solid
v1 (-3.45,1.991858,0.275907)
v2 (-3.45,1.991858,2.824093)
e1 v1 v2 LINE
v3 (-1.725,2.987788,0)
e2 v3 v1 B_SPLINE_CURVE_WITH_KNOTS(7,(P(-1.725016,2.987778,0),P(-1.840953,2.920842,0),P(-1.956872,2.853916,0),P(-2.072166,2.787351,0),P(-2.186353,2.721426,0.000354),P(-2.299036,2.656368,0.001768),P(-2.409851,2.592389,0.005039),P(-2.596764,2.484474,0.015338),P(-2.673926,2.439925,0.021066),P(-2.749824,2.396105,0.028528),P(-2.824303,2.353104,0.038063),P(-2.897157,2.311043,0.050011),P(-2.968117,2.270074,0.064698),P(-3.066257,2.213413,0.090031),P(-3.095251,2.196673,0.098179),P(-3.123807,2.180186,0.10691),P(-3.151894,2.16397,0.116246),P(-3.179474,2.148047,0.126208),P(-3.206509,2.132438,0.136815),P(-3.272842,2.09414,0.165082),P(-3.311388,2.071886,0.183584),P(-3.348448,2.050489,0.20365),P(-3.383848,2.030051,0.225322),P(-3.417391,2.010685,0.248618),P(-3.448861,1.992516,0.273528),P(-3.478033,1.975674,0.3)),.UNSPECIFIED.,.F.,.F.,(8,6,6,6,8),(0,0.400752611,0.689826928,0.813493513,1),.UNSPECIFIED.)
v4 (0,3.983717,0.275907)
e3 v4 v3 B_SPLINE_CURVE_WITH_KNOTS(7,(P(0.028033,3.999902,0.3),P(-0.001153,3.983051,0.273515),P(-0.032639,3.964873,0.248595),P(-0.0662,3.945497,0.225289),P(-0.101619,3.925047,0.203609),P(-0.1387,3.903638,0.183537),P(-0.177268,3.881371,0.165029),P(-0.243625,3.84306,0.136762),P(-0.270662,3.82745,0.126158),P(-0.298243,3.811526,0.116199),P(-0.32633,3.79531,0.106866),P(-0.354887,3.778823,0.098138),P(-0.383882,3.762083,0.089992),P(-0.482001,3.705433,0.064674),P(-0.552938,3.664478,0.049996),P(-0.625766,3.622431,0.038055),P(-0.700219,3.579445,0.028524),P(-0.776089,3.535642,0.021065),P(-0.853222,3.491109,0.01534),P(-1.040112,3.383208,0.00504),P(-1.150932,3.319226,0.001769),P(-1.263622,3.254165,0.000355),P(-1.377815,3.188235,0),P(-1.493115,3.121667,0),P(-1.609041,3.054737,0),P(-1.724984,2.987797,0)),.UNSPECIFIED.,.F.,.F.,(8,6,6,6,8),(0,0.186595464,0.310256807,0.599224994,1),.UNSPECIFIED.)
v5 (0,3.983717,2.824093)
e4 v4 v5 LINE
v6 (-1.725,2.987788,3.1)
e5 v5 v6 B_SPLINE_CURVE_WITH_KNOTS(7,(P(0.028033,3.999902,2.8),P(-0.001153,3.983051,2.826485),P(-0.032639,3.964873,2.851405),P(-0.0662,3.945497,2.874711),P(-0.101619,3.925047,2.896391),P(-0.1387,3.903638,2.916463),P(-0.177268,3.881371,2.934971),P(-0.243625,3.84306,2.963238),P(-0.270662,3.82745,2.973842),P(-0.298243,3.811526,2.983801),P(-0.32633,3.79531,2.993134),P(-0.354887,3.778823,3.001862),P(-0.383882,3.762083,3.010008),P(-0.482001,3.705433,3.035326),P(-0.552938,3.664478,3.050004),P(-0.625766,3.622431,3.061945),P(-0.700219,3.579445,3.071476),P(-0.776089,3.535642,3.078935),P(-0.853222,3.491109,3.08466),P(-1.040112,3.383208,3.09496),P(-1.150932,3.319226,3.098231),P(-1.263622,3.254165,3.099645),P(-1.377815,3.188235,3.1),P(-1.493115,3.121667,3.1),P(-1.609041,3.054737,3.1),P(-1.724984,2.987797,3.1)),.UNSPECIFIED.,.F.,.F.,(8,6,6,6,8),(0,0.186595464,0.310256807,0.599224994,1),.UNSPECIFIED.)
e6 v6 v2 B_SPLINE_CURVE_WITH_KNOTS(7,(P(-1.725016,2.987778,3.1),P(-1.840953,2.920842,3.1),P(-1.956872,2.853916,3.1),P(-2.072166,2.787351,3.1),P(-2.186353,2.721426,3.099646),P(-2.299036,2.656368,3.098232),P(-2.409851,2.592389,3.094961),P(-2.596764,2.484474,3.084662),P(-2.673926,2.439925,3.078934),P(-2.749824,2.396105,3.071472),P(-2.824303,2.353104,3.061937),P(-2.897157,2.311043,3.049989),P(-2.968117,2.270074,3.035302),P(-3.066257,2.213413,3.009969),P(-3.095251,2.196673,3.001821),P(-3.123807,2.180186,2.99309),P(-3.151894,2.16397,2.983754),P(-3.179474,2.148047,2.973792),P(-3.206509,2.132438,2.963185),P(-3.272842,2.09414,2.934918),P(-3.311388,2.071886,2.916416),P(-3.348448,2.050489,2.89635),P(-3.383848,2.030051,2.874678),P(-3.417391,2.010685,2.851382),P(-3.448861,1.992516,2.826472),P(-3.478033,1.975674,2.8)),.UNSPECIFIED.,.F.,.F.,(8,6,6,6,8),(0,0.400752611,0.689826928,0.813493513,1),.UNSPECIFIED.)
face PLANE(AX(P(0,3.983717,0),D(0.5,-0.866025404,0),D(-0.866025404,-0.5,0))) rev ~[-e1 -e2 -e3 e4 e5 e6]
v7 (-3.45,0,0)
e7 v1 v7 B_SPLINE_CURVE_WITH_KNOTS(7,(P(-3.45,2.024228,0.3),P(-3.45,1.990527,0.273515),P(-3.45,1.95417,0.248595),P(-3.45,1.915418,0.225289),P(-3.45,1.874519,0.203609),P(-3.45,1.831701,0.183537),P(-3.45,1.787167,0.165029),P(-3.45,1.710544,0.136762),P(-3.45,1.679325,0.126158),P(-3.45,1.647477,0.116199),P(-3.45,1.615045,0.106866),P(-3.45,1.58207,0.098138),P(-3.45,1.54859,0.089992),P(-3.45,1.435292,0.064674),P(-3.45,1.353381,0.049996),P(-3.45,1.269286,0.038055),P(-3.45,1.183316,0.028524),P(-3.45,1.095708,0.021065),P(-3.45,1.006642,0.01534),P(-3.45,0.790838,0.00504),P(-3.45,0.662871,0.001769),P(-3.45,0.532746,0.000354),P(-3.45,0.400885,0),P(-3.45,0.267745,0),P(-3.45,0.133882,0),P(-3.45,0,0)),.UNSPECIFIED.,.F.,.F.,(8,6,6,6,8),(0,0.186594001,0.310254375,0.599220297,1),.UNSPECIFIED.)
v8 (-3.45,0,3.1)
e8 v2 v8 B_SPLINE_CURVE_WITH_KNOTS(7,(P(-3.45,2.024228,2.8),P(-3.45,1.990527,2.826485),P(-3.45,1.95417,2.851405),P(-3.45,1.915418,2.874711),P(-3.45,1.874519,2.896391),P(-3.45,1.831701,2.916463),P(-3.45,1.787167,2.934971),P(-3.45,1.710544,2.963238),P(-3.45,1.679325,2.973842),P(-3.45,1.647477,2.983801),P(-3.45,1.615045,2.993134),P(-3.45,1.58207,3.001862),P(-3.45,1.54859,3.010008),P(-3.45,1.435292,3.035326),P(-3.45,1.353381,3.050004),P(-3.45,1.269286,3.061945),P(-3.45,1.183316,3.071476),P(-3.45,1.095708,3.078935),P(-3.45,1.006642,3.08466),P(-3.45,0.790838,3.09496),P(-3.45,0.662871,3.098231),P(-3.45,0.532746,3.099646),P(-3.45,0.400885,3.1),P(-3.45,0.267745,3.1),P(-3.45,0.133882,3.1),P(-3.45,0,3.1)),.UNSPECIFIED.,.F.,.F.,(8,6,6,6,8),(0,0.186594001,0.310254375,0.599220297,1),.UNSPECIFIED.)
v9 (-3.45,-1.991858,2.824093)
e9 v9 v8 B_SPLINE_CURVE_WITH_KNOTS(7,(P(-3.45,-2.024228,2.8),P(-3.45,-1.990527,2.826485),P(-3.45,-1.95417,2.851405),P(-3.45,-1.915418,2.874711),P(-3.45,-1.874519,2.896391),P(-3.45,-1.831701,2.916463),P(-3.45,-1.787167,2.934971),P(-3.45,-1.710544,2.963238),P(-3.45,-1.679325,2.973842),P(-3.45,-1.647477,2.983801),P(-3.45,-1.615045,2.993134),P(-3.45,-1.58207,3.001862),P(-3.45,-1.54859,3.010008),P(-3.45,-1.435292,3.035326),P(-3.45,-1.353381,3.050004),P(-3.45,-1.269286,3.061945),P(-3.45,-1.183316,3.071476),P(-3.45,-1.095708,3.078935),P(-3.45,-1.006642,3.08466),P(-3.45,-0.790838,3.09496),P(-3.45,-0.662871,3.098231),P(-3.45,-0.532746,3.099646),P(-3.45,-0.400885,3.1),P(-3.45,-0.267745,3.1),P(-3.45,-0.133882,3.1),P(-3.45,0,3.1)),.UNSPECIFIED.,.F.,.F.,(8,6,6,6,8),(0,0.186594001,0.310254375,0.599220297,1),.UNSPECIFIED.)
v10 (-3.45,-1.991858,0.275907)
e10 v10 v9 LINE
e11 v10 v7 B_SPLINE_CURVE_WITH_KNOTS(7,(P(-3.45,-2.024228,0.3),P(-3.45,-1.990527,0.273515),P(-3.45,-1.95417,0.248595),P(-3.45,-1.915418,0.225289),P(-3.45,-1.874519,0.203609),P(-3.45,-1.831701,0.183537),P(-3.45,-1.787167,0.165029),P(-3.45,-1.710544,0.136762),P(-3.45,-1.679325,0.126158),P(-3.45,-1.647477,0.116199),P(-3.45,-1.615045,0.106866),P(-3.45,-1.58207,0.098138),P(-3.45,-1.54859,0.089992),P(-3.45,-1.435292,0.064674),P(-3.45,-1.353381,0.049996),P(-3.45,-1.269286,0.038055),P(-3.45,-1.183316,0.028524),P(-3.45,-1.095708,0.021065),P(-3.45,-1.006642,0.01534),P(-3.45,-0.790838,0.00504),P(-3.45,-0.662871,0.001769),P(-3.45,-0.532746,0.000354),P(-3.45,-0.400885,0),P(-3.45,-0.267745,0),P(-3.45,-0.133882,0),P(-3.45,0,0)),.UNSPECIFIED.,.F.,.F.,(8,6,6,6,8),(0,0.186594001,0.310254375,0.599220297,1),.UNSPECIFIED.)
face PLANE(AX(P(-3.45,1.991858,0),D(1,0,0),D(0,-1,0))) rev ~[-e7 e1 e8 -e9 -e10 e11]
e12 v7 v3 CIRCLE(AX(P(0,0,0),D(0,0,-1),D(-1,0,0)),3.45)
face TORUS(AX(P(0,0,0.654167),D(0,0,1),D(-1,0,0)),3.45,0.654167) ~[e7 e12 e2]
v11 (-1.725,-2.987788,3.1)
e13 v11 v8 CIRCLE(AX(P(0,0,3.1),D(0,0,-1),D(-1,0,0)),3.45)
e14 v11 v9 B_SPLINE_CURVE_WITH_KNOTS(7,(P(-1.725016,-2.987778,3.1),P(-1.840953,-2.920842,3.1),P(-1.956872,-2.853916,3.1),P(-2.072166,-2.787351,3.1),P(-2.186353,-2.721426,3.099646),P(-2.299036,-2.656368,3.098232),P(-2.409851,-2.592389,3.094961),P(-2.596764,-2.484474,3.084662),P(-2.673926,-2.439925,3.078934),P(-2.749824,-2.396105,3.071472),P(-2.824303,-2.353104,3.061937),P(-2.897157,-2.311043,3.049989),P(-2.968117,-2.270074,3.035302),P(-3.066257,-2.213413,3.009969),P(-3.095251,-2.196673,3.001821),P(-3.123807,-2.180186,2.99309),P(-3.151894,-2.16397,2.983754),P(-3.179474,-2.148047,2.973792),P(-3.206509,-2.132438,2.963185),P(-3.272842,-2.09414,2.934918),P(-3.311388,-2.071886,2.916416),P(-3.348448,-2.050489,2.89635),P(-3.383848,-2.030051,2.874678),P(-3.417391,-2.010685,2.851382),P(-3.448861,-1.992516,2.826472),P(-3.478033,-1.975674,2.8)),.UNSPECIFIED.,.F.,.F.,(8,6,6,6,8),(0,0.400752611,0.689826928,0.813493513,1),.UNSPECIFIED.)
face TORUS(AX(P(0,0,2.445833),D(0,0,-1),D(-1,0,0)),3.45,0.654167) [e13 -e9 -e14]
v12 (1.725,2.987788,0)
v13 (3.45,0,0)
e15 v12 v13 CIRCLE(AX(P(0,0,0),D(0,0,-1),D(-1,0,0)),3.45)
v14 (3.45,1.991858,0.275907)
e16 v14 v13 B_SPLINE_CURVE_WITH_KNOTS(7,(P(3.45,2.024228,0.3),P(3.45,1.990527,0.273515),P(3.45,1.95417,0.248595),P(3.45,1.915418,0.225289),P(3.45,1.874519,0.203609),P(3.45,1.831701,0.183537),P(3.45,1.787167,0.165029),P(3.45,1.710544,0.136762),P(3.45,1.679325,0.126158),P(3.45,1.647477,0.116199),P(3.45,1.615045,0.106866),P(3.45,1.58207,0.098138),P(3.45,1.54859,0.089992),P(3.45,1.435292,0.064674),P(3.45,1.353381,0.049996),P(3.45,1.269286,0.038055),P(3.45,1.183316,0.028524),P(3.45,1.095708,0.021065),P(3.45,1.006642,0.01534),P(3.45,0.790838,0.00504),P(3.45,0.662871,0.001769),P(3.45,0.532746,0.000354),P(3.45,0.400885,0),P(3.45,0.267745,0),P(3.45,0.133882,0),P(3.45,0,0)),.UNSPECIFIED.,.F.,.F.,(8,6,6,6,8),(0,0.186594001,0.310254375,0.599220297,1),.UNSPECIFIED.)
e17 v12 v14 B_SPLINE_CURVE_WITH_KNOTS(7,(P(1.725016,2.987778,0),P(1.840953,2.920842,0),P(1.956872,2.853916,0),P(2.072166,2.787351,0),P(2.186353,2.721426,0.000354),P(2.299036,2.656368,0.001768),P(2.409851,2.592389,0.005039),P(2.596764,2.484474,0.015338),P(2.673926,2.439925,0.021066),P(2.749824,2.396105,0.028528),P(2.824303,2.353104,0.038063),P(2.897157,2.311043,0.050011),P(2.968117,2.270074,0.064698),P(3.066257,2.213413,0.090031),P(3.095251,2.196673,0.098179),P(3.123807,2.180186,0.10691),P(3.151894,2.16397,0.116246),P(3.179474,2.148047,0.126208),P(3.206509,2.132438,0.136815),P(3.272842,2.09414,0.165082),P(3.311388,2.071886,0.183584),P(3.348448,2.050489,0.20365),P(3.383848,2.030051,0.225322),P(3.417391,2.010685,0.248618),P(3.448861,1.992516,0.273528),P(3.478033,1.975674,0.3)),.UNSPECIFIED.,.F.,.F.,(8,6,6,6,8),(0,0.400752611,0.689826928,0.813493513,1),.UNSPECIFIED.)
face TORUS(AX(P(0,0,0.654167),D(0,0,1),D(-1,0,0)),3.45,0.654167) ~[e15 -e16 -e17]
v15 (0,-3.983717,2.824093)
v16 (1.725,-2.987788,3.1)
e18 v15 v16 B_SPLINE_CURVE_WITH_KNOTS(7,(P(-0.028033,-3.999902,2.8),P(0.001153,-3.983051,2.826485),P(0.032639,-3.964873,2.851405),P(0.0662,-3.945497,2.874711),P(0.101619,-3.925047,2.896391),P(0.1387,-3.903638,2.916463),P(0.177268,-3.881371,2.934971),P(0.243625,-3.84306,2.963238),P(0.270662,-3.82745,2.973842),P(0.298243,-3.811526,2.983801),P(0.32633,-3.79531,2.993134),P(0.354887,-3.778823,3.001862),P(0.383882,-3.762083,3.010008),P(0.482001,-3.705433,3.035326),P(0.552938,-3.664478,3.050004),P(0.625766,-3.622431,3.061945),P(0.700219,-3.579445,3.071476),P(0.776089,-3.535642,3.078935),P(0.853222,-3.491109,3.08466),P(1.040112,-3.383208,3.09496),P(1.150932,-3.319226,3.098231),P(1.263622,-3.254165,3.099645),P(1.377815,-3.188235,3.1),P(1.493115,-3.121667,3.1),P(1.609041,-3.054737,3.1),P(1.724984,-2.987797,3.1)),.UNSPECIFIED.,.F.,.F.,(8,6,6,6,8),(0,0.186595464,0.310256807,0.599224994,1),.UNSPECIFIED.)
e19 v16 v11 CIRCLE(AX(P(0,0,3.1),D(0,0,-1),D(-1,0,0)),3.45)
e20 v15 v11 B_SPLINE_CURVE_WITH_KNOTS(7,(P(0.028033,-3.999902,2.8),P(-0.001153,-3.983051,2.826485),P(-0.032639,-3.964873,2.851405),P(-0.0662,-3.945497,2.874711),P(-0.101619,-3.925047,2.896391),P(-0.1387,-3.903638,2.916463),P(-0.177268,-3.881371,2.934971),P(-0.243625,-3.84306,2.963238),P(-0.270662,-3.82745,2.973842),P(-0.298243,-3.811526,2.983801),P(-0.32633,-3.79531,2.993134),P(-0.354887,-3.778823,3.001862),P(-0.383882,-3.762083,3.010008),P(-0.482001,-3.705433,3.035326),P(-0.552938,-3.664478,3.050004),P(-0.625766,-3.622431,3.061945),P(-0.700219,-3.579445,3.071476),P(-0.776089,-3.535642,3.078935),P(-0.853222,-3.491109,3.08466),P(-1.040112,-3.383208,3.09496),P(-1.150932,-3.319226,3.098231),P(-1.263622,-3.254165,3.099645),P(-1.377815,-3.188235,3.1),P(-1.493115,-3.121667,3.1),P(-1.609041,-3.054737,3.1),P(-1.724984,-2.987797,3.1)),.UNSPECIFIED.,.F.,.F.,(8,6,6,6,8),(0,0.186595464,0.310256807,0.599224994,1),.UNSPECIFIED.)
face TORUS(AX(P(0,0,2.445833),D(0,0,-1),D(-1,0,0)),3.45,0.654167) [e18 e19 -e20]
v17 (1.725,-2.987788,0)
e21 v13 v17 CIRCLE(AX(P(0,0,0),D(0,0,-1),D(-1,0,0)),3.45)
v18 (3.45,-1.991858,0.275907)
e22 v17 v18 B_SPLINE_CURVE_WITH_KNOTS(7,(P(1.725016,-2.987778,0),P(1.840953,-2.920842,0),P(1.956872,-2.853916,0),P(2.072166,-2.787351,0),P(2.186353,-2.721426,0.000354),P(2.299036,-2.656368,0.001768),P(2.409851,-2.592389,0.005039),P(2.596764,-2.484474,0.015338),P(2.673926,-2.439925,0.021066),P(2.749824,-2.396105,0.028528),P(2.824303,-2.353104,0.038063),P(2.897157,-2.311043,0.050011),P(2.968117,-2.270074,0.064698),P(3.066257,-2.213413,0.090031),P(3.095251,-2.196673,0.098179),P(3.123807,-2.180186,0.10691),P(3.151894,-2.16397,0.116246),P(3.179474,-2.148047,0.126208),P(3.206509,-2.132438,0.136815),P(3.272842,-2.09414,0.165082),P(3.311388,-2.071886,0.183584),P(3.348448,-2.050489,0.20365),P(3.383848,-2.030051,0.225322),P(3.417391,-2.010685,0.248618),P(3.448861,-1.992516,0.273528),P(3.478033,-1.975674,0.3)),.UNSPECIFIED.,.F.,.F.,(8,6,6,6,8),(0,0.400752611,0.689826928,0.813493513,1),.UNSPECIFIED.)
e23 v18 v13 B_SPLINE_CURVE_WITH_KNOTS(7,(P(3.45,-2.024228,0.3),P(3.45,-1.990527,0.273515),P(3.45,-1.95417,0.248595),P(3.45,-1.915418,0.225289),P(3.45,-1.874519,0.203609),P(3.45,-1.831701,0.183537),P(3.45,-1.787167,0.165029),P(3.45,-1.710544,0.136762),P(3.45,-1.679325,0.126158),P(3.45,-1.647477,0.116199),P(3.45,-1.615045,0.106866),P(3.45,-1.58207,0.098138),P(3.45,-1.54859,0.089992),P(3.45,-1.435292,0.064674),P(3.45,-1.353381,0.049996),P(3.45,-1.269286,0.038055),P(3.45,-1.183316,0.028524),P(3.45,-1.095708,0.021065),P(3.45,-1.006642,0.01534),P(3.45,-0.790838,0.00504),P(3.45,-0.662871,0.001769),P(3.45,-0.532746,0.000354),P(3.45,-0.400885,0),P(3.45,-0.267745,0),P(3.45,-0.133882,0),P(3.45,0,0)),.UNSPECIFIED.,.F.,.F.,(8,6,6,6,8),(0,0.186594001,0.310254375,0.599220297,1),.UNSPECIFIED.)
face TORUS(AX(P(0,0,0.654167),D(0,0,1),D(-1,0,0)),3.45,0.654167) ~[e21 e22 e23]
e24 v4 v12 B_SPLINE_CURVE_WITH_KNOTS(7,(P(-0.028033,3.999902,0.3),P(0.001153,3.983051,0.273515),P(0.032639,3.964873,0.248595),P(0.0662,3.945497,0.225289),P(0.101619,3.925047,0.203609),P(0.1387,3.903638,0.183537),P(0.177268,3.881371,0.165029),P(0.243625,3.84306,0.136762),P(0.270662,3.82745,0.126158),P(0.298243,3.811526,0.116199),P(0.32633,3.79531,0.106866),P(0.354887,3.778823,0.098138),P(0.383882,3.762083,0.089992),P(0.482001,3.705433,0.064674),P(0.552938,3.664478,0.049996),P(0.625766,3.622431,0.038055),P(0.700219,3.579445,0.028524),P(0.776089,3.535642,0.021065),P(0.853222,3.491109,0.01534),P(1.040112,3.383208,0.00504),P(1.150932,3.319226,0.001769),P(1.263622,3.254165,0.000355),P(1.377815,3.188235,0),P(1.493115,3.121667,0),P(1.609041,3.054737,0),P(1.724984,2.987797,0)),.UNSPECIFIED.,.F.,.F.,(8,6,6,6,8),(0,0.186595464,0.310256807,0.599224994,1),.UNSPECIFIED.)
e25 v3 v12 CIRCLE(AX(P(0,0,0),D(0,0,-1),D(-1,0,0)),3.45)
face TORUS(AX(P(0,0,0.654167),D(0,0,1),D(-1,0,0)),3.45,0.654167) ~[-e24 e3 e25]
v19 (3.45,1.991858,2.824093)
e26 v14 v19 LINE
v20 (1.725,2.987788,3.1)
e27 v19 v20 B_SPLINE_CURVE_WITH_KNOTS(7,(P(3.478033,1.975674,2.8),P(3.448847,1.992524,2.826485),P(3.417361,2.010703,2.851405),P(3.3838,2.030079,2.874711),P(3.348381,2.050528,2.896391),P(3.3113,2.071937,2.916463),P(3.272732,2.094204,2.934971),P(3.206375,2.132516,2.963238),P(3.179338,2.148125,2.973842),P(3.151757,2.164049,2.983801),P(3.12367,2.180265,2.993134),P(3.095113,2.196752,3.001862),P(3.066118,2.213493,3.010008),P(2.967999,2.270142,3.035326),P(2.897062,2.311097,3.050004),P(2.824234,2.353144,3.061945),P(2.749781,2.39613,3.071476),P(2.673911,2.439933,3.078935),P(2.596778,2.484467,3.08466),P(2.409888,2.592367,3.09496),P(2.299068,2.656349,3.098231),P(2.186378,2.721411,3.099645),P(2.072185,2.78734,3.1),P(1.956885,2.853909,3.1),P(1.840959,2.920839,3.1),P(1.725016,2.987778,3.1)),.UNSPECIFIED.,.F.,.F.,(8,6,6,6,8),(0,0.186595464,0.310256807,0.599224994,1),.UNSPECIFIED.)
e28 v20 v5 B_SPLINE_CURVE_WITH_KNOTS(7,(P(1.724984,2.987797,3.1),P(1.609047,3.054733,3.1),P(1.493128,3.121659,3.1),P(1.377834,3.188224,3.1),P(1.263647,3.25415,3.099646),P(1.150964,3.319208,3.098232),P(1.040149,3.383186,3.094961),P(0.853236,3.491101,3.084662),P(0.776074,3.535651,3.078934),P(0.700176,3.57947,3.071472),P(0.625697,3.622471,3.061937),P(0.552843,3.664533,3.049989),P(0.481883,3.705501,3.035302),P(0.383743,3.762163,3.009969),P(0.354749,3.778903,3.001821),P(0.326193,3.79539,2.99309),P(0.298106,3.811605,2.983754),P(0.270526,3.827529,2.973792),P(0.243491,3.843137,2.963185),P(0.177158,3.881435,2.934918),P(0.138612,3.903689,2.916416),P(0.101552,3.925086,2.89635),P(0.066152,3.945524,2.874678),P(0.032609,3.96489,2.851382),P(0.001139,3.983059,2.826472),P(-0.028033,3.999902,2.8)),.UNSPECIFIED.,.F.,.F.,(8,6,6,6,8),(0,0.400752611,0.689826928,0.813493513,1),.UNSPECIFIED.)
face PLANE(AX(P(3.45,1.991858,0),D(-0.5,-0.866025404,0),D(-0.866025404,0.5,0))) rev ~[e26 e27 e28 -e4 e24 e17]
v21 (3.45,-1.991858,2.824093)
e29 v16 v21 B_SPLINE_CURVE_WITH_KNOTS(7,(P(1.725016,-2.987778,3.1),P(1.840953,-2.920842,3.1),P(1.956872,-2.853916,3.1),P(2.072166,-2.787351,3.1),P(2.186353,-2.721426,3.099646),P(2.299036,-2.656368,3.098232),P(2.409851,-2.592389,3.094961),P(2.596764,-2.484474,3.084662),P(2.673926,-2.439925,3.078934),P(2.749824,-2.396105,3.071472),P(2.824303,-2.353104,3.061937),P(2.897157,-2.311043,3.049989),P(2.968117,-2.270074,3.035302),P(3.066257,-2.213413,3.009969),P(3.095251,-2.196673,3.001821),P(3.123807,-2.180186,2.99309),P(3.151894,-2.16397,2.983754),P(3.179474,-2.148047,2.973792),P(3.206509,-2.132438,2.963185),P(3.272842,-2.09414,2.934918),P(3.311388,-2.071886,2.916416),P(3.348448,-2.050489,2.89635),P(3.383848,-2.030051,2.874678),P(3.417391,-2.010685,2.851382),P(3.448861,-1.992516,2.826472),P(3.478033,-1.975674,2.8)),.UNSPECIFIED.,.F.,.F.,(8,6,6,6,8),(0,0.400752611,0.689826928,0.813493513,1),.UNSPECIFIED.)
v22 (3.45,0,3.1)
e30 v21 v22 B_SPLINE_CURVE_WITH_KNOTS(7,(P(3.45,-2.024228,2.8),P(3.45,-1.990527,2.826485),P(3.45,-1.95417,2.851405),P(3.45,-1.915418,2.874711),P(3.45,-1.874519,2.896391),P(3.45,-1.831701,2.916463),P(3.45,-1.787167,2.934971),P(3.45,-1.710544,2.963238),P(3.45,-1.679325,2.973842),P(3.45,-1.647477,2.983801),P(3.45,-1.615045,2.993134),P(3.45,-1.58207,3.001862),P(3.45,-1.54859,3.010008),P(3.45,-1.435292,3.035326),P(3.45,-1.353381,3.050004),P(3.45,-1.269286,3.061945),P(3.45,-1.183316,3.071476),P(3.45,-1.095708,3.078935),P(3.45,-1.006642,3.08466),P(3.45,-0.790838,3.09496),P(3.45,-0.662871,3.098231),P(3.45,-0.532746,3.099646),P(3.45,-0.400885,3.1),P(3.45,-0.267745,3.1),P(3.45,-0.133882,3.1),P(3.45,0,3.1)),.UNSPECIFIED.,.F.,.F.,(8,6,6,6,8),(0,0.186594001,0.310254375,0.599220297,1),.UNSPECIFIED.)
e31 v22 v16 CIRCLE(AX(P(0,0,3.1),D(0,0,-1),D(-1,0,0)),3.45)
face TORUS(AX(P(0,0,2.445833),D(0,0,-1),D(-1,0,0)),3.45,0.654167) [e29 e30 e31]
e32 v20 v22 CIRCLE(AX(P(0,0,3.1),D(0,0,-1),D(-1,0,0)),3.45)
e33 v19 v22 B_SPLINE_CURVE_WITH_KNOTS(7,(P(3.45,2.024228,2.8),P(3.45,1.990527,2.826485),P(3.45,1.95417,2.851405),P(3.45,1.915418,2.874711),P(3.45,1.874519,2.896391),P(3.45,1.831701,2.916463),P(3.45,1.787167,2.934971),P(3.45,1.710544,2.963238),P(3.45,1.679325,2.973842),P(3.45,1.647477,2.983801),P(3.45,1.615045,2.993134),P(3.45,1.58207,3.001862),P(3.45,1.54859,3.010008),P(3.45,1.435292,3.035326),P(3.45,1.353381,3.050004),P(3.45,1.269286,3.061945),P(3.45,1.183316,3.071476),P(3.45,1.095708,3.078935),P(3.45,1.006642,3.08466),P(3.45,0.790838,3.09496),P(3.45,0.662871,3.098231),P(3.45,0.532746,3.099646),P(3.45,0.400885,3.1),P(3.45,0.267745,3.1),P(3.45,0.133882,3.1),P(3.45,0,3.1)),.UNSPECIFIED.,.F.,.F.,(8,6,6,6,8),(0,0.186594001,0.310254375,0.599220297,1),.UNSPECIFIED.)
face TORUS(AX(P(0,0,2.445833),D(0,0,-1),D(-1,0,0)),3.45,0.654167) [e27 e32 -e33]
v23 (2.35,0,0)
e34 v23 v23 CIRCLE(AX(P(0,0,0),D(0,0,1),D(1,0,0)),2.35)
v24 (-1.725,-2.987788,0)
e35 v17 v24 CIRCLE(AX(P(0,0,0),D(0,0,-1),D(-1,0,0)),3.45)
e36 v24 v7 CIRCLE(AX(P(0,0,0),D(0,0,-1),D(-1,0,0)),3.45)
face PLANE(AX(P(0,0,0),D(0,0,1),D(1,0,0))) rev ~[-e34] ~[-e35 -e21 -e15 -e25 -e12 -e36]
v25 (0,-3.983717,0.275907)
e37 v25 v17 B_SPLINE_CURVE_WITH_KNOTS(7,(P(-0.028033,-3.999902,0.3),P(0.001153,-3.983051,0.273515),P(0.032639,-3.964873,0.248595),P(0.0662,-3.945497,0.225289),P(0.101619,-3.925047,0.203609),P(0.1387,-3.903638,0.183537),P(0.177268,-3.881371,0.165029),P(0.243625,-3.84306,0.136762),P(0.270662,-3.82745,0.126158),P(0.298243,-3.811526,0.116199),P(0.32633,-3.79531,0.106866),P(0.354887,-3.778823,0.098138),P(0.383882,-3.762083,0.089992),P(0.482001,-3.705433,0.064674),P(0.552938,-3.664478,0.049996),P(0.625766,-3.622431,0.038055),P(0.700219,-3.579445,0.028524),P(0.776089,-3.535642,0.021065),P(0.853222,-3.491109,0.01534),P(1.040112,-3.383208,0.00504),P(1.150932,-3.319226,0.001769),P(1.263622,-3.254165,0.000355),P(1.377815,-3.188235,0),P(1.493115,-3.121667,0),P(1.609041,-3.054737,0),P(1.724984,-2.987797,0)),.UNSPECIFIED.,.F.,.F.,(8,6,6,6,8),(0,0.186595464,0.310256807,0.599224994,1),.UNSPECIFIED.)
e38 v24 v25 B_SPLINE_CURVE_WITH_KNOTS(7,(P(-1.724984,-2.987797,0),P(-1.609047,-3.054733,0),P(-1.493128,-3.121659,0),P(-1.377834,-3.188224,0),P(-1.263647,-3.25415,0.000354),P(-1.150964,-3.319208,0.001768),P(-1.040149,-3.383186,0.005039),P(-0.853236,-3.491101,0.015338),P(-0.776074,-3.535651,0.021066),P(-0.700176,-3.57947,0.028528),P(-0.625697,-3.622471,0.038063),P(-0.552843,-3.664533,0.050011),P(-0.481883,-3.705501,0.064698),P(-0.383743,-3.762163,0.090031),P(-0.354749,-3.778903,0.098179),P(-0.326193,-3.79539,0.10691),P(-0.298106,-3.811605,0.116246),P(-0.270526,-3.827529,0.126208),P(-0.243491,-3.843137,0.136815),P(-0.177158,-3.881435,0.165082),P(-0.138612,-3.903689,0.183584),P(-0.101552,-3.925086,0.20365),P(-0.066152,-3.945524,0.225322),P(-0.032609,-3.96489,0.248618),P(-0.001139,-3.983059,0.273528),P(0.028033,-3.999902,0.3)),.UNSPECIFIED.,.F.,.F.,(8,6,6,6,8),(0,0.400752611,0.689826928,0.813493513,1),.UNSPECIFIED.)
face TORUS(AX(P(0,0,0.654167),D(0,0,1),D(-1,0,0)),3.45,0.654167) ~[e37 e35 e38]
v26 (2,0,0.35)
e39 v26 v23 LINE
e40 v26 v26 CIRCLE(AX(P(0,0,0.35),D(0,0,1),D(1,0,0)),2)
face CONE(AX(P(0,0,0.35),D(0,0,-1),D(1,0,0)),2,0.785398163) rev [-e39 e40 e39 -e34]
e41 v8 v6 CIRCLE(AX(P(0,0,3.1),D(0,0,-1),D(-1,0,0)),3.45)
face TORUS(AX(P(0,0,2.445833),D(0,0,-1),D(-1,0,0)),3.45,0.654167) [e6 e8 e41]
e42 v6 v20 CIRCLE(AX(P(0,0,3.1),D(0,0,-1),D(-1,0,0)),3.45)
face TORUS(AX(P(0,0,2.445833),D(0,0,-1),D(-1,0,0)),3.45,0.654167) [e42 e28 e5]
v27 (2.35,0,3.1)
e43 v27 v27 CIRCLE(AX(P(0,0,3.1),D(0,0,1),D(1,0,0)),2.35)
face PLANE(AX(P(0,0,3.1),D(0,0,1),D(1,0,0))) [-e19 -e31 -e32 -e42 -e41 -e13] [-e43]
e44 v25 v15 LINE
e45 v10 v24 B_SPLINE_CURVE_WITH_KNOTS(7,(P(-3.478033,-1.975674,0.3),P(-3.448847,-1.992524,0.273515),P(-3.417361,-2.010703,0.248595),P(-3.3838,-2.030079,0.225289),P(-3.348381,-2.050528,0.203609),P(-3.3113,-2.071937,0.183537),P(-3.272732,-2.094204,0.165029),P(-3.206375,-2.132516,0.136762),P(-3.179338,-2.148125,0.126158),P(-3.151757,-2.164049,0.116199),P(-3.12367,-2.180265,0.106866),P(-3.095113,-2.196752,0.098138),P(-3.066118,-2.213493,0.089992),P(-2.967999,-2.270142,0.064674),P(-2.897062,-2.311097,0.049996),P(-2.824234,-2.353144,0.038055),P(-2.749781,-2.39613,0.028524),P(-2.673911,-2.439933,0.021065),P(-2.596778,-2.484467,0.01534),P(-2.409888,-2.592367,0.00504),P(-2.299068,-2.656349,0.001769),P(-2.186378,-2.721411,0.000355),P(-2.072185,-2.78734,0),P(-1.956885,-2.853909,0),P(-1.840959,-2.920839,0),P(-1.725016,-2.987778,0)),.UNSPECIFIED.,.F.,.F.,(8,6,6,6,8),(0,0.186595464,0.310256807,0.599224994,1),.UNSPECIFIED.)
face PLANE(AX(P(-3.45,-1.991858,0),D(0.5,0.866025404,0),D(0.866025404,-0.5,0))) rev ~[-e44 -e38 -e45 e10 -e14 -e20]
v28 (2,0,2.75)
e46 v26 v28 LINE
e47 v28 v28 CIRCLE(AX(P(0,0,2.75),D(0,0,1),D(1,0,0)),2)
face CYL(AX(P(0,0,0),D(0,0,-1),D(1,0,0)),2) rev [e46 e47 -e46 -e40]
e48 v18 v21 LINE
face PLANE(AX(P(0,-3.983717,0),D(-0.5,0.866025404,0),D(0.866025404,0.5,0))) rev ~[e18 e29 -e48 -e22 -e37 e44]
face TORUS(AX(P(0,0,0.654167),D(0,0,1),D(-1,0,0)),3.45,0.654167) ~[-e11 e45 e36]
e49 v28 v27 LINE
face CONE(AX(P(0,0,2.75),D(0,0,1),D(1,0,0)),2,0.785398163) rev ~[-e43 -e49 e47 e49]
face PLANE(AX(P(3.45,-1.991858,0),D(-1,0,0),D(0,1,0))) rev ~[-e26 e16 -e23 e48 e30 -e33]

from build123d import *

# Parameters (mm, degrees)
SKETCH1_R           = 2
BOSS_EXTRUDE1_DEPTH = 3.1
CHAMFER1_SIZE       = 0.35


with BuildPart() as part:
    # Sketch1 → Boss-Extrude1 (new body)
    with BuildSketch(Plane.XY):
        Polygon((3.45, 1.991858429), (0, 3.983716857), (-3.45, 1.991858429), (-3.45, -1.991858429), (0, -3.983716857), (3.45, -1.991858429), align=None)
        Circle(SKETCH1_R, mode=Mode.SUBTRACT)
    extrude(amount=BOSS_EXTRUDE1_DEPTH)

    # Chamfer1
    chamfer1_edges = [part.edges().sort_by_distance(p)[0] for p in [
        (-2, 0, 0),
        (-2, 0, 3.1),
    ]]
    chamfer(chamfer1_edges, length=CHAMFER1_SIZE)

    # Sketch2 → Cut-Revolve1 (revolve, cut)
    with BuildSketch(Plane(origin=(0, 0, 0), x_dir=(1, 0, 0), z_dir=(0, 1, 0))):
        with BuildLine():
            Line((-4, -0.3), (-4.500819954, -0.3))
            Line((-4.500819954, -0.3), (-4.500819954, 0.361239255))
            Line((-4.500819954, 0.361239255), (-3.45, 0.361239255))
            Line((-3.45, 0.361239255), (-3.45, 0))
            ThreePointArc((-3.45, 0), (-3.763249102, -0.079876646), (-4, -0.3))
        make_face()
        with BuildLine():
            Line((-3.45, -3.461239255), (-3.45, -3.1))
            ThreePointArc((-3.45, -3.1), (-3.763249102, -3.020123354), (-4, -2.8))
            Line((-4, -2.8), (-4.500819954, -2.8))
            Line((-4.500819954, -2.8), (-4.500819954, -3.461239255))
            Line((-4.500819954, -3.461239255), (-3.45, -3.461239255))
        make_face()
    revolve(axis=Axis((0, 0, 1.55), (0, 0, -1)), mode=Mode.SUBTRACT)


solid = part.part
